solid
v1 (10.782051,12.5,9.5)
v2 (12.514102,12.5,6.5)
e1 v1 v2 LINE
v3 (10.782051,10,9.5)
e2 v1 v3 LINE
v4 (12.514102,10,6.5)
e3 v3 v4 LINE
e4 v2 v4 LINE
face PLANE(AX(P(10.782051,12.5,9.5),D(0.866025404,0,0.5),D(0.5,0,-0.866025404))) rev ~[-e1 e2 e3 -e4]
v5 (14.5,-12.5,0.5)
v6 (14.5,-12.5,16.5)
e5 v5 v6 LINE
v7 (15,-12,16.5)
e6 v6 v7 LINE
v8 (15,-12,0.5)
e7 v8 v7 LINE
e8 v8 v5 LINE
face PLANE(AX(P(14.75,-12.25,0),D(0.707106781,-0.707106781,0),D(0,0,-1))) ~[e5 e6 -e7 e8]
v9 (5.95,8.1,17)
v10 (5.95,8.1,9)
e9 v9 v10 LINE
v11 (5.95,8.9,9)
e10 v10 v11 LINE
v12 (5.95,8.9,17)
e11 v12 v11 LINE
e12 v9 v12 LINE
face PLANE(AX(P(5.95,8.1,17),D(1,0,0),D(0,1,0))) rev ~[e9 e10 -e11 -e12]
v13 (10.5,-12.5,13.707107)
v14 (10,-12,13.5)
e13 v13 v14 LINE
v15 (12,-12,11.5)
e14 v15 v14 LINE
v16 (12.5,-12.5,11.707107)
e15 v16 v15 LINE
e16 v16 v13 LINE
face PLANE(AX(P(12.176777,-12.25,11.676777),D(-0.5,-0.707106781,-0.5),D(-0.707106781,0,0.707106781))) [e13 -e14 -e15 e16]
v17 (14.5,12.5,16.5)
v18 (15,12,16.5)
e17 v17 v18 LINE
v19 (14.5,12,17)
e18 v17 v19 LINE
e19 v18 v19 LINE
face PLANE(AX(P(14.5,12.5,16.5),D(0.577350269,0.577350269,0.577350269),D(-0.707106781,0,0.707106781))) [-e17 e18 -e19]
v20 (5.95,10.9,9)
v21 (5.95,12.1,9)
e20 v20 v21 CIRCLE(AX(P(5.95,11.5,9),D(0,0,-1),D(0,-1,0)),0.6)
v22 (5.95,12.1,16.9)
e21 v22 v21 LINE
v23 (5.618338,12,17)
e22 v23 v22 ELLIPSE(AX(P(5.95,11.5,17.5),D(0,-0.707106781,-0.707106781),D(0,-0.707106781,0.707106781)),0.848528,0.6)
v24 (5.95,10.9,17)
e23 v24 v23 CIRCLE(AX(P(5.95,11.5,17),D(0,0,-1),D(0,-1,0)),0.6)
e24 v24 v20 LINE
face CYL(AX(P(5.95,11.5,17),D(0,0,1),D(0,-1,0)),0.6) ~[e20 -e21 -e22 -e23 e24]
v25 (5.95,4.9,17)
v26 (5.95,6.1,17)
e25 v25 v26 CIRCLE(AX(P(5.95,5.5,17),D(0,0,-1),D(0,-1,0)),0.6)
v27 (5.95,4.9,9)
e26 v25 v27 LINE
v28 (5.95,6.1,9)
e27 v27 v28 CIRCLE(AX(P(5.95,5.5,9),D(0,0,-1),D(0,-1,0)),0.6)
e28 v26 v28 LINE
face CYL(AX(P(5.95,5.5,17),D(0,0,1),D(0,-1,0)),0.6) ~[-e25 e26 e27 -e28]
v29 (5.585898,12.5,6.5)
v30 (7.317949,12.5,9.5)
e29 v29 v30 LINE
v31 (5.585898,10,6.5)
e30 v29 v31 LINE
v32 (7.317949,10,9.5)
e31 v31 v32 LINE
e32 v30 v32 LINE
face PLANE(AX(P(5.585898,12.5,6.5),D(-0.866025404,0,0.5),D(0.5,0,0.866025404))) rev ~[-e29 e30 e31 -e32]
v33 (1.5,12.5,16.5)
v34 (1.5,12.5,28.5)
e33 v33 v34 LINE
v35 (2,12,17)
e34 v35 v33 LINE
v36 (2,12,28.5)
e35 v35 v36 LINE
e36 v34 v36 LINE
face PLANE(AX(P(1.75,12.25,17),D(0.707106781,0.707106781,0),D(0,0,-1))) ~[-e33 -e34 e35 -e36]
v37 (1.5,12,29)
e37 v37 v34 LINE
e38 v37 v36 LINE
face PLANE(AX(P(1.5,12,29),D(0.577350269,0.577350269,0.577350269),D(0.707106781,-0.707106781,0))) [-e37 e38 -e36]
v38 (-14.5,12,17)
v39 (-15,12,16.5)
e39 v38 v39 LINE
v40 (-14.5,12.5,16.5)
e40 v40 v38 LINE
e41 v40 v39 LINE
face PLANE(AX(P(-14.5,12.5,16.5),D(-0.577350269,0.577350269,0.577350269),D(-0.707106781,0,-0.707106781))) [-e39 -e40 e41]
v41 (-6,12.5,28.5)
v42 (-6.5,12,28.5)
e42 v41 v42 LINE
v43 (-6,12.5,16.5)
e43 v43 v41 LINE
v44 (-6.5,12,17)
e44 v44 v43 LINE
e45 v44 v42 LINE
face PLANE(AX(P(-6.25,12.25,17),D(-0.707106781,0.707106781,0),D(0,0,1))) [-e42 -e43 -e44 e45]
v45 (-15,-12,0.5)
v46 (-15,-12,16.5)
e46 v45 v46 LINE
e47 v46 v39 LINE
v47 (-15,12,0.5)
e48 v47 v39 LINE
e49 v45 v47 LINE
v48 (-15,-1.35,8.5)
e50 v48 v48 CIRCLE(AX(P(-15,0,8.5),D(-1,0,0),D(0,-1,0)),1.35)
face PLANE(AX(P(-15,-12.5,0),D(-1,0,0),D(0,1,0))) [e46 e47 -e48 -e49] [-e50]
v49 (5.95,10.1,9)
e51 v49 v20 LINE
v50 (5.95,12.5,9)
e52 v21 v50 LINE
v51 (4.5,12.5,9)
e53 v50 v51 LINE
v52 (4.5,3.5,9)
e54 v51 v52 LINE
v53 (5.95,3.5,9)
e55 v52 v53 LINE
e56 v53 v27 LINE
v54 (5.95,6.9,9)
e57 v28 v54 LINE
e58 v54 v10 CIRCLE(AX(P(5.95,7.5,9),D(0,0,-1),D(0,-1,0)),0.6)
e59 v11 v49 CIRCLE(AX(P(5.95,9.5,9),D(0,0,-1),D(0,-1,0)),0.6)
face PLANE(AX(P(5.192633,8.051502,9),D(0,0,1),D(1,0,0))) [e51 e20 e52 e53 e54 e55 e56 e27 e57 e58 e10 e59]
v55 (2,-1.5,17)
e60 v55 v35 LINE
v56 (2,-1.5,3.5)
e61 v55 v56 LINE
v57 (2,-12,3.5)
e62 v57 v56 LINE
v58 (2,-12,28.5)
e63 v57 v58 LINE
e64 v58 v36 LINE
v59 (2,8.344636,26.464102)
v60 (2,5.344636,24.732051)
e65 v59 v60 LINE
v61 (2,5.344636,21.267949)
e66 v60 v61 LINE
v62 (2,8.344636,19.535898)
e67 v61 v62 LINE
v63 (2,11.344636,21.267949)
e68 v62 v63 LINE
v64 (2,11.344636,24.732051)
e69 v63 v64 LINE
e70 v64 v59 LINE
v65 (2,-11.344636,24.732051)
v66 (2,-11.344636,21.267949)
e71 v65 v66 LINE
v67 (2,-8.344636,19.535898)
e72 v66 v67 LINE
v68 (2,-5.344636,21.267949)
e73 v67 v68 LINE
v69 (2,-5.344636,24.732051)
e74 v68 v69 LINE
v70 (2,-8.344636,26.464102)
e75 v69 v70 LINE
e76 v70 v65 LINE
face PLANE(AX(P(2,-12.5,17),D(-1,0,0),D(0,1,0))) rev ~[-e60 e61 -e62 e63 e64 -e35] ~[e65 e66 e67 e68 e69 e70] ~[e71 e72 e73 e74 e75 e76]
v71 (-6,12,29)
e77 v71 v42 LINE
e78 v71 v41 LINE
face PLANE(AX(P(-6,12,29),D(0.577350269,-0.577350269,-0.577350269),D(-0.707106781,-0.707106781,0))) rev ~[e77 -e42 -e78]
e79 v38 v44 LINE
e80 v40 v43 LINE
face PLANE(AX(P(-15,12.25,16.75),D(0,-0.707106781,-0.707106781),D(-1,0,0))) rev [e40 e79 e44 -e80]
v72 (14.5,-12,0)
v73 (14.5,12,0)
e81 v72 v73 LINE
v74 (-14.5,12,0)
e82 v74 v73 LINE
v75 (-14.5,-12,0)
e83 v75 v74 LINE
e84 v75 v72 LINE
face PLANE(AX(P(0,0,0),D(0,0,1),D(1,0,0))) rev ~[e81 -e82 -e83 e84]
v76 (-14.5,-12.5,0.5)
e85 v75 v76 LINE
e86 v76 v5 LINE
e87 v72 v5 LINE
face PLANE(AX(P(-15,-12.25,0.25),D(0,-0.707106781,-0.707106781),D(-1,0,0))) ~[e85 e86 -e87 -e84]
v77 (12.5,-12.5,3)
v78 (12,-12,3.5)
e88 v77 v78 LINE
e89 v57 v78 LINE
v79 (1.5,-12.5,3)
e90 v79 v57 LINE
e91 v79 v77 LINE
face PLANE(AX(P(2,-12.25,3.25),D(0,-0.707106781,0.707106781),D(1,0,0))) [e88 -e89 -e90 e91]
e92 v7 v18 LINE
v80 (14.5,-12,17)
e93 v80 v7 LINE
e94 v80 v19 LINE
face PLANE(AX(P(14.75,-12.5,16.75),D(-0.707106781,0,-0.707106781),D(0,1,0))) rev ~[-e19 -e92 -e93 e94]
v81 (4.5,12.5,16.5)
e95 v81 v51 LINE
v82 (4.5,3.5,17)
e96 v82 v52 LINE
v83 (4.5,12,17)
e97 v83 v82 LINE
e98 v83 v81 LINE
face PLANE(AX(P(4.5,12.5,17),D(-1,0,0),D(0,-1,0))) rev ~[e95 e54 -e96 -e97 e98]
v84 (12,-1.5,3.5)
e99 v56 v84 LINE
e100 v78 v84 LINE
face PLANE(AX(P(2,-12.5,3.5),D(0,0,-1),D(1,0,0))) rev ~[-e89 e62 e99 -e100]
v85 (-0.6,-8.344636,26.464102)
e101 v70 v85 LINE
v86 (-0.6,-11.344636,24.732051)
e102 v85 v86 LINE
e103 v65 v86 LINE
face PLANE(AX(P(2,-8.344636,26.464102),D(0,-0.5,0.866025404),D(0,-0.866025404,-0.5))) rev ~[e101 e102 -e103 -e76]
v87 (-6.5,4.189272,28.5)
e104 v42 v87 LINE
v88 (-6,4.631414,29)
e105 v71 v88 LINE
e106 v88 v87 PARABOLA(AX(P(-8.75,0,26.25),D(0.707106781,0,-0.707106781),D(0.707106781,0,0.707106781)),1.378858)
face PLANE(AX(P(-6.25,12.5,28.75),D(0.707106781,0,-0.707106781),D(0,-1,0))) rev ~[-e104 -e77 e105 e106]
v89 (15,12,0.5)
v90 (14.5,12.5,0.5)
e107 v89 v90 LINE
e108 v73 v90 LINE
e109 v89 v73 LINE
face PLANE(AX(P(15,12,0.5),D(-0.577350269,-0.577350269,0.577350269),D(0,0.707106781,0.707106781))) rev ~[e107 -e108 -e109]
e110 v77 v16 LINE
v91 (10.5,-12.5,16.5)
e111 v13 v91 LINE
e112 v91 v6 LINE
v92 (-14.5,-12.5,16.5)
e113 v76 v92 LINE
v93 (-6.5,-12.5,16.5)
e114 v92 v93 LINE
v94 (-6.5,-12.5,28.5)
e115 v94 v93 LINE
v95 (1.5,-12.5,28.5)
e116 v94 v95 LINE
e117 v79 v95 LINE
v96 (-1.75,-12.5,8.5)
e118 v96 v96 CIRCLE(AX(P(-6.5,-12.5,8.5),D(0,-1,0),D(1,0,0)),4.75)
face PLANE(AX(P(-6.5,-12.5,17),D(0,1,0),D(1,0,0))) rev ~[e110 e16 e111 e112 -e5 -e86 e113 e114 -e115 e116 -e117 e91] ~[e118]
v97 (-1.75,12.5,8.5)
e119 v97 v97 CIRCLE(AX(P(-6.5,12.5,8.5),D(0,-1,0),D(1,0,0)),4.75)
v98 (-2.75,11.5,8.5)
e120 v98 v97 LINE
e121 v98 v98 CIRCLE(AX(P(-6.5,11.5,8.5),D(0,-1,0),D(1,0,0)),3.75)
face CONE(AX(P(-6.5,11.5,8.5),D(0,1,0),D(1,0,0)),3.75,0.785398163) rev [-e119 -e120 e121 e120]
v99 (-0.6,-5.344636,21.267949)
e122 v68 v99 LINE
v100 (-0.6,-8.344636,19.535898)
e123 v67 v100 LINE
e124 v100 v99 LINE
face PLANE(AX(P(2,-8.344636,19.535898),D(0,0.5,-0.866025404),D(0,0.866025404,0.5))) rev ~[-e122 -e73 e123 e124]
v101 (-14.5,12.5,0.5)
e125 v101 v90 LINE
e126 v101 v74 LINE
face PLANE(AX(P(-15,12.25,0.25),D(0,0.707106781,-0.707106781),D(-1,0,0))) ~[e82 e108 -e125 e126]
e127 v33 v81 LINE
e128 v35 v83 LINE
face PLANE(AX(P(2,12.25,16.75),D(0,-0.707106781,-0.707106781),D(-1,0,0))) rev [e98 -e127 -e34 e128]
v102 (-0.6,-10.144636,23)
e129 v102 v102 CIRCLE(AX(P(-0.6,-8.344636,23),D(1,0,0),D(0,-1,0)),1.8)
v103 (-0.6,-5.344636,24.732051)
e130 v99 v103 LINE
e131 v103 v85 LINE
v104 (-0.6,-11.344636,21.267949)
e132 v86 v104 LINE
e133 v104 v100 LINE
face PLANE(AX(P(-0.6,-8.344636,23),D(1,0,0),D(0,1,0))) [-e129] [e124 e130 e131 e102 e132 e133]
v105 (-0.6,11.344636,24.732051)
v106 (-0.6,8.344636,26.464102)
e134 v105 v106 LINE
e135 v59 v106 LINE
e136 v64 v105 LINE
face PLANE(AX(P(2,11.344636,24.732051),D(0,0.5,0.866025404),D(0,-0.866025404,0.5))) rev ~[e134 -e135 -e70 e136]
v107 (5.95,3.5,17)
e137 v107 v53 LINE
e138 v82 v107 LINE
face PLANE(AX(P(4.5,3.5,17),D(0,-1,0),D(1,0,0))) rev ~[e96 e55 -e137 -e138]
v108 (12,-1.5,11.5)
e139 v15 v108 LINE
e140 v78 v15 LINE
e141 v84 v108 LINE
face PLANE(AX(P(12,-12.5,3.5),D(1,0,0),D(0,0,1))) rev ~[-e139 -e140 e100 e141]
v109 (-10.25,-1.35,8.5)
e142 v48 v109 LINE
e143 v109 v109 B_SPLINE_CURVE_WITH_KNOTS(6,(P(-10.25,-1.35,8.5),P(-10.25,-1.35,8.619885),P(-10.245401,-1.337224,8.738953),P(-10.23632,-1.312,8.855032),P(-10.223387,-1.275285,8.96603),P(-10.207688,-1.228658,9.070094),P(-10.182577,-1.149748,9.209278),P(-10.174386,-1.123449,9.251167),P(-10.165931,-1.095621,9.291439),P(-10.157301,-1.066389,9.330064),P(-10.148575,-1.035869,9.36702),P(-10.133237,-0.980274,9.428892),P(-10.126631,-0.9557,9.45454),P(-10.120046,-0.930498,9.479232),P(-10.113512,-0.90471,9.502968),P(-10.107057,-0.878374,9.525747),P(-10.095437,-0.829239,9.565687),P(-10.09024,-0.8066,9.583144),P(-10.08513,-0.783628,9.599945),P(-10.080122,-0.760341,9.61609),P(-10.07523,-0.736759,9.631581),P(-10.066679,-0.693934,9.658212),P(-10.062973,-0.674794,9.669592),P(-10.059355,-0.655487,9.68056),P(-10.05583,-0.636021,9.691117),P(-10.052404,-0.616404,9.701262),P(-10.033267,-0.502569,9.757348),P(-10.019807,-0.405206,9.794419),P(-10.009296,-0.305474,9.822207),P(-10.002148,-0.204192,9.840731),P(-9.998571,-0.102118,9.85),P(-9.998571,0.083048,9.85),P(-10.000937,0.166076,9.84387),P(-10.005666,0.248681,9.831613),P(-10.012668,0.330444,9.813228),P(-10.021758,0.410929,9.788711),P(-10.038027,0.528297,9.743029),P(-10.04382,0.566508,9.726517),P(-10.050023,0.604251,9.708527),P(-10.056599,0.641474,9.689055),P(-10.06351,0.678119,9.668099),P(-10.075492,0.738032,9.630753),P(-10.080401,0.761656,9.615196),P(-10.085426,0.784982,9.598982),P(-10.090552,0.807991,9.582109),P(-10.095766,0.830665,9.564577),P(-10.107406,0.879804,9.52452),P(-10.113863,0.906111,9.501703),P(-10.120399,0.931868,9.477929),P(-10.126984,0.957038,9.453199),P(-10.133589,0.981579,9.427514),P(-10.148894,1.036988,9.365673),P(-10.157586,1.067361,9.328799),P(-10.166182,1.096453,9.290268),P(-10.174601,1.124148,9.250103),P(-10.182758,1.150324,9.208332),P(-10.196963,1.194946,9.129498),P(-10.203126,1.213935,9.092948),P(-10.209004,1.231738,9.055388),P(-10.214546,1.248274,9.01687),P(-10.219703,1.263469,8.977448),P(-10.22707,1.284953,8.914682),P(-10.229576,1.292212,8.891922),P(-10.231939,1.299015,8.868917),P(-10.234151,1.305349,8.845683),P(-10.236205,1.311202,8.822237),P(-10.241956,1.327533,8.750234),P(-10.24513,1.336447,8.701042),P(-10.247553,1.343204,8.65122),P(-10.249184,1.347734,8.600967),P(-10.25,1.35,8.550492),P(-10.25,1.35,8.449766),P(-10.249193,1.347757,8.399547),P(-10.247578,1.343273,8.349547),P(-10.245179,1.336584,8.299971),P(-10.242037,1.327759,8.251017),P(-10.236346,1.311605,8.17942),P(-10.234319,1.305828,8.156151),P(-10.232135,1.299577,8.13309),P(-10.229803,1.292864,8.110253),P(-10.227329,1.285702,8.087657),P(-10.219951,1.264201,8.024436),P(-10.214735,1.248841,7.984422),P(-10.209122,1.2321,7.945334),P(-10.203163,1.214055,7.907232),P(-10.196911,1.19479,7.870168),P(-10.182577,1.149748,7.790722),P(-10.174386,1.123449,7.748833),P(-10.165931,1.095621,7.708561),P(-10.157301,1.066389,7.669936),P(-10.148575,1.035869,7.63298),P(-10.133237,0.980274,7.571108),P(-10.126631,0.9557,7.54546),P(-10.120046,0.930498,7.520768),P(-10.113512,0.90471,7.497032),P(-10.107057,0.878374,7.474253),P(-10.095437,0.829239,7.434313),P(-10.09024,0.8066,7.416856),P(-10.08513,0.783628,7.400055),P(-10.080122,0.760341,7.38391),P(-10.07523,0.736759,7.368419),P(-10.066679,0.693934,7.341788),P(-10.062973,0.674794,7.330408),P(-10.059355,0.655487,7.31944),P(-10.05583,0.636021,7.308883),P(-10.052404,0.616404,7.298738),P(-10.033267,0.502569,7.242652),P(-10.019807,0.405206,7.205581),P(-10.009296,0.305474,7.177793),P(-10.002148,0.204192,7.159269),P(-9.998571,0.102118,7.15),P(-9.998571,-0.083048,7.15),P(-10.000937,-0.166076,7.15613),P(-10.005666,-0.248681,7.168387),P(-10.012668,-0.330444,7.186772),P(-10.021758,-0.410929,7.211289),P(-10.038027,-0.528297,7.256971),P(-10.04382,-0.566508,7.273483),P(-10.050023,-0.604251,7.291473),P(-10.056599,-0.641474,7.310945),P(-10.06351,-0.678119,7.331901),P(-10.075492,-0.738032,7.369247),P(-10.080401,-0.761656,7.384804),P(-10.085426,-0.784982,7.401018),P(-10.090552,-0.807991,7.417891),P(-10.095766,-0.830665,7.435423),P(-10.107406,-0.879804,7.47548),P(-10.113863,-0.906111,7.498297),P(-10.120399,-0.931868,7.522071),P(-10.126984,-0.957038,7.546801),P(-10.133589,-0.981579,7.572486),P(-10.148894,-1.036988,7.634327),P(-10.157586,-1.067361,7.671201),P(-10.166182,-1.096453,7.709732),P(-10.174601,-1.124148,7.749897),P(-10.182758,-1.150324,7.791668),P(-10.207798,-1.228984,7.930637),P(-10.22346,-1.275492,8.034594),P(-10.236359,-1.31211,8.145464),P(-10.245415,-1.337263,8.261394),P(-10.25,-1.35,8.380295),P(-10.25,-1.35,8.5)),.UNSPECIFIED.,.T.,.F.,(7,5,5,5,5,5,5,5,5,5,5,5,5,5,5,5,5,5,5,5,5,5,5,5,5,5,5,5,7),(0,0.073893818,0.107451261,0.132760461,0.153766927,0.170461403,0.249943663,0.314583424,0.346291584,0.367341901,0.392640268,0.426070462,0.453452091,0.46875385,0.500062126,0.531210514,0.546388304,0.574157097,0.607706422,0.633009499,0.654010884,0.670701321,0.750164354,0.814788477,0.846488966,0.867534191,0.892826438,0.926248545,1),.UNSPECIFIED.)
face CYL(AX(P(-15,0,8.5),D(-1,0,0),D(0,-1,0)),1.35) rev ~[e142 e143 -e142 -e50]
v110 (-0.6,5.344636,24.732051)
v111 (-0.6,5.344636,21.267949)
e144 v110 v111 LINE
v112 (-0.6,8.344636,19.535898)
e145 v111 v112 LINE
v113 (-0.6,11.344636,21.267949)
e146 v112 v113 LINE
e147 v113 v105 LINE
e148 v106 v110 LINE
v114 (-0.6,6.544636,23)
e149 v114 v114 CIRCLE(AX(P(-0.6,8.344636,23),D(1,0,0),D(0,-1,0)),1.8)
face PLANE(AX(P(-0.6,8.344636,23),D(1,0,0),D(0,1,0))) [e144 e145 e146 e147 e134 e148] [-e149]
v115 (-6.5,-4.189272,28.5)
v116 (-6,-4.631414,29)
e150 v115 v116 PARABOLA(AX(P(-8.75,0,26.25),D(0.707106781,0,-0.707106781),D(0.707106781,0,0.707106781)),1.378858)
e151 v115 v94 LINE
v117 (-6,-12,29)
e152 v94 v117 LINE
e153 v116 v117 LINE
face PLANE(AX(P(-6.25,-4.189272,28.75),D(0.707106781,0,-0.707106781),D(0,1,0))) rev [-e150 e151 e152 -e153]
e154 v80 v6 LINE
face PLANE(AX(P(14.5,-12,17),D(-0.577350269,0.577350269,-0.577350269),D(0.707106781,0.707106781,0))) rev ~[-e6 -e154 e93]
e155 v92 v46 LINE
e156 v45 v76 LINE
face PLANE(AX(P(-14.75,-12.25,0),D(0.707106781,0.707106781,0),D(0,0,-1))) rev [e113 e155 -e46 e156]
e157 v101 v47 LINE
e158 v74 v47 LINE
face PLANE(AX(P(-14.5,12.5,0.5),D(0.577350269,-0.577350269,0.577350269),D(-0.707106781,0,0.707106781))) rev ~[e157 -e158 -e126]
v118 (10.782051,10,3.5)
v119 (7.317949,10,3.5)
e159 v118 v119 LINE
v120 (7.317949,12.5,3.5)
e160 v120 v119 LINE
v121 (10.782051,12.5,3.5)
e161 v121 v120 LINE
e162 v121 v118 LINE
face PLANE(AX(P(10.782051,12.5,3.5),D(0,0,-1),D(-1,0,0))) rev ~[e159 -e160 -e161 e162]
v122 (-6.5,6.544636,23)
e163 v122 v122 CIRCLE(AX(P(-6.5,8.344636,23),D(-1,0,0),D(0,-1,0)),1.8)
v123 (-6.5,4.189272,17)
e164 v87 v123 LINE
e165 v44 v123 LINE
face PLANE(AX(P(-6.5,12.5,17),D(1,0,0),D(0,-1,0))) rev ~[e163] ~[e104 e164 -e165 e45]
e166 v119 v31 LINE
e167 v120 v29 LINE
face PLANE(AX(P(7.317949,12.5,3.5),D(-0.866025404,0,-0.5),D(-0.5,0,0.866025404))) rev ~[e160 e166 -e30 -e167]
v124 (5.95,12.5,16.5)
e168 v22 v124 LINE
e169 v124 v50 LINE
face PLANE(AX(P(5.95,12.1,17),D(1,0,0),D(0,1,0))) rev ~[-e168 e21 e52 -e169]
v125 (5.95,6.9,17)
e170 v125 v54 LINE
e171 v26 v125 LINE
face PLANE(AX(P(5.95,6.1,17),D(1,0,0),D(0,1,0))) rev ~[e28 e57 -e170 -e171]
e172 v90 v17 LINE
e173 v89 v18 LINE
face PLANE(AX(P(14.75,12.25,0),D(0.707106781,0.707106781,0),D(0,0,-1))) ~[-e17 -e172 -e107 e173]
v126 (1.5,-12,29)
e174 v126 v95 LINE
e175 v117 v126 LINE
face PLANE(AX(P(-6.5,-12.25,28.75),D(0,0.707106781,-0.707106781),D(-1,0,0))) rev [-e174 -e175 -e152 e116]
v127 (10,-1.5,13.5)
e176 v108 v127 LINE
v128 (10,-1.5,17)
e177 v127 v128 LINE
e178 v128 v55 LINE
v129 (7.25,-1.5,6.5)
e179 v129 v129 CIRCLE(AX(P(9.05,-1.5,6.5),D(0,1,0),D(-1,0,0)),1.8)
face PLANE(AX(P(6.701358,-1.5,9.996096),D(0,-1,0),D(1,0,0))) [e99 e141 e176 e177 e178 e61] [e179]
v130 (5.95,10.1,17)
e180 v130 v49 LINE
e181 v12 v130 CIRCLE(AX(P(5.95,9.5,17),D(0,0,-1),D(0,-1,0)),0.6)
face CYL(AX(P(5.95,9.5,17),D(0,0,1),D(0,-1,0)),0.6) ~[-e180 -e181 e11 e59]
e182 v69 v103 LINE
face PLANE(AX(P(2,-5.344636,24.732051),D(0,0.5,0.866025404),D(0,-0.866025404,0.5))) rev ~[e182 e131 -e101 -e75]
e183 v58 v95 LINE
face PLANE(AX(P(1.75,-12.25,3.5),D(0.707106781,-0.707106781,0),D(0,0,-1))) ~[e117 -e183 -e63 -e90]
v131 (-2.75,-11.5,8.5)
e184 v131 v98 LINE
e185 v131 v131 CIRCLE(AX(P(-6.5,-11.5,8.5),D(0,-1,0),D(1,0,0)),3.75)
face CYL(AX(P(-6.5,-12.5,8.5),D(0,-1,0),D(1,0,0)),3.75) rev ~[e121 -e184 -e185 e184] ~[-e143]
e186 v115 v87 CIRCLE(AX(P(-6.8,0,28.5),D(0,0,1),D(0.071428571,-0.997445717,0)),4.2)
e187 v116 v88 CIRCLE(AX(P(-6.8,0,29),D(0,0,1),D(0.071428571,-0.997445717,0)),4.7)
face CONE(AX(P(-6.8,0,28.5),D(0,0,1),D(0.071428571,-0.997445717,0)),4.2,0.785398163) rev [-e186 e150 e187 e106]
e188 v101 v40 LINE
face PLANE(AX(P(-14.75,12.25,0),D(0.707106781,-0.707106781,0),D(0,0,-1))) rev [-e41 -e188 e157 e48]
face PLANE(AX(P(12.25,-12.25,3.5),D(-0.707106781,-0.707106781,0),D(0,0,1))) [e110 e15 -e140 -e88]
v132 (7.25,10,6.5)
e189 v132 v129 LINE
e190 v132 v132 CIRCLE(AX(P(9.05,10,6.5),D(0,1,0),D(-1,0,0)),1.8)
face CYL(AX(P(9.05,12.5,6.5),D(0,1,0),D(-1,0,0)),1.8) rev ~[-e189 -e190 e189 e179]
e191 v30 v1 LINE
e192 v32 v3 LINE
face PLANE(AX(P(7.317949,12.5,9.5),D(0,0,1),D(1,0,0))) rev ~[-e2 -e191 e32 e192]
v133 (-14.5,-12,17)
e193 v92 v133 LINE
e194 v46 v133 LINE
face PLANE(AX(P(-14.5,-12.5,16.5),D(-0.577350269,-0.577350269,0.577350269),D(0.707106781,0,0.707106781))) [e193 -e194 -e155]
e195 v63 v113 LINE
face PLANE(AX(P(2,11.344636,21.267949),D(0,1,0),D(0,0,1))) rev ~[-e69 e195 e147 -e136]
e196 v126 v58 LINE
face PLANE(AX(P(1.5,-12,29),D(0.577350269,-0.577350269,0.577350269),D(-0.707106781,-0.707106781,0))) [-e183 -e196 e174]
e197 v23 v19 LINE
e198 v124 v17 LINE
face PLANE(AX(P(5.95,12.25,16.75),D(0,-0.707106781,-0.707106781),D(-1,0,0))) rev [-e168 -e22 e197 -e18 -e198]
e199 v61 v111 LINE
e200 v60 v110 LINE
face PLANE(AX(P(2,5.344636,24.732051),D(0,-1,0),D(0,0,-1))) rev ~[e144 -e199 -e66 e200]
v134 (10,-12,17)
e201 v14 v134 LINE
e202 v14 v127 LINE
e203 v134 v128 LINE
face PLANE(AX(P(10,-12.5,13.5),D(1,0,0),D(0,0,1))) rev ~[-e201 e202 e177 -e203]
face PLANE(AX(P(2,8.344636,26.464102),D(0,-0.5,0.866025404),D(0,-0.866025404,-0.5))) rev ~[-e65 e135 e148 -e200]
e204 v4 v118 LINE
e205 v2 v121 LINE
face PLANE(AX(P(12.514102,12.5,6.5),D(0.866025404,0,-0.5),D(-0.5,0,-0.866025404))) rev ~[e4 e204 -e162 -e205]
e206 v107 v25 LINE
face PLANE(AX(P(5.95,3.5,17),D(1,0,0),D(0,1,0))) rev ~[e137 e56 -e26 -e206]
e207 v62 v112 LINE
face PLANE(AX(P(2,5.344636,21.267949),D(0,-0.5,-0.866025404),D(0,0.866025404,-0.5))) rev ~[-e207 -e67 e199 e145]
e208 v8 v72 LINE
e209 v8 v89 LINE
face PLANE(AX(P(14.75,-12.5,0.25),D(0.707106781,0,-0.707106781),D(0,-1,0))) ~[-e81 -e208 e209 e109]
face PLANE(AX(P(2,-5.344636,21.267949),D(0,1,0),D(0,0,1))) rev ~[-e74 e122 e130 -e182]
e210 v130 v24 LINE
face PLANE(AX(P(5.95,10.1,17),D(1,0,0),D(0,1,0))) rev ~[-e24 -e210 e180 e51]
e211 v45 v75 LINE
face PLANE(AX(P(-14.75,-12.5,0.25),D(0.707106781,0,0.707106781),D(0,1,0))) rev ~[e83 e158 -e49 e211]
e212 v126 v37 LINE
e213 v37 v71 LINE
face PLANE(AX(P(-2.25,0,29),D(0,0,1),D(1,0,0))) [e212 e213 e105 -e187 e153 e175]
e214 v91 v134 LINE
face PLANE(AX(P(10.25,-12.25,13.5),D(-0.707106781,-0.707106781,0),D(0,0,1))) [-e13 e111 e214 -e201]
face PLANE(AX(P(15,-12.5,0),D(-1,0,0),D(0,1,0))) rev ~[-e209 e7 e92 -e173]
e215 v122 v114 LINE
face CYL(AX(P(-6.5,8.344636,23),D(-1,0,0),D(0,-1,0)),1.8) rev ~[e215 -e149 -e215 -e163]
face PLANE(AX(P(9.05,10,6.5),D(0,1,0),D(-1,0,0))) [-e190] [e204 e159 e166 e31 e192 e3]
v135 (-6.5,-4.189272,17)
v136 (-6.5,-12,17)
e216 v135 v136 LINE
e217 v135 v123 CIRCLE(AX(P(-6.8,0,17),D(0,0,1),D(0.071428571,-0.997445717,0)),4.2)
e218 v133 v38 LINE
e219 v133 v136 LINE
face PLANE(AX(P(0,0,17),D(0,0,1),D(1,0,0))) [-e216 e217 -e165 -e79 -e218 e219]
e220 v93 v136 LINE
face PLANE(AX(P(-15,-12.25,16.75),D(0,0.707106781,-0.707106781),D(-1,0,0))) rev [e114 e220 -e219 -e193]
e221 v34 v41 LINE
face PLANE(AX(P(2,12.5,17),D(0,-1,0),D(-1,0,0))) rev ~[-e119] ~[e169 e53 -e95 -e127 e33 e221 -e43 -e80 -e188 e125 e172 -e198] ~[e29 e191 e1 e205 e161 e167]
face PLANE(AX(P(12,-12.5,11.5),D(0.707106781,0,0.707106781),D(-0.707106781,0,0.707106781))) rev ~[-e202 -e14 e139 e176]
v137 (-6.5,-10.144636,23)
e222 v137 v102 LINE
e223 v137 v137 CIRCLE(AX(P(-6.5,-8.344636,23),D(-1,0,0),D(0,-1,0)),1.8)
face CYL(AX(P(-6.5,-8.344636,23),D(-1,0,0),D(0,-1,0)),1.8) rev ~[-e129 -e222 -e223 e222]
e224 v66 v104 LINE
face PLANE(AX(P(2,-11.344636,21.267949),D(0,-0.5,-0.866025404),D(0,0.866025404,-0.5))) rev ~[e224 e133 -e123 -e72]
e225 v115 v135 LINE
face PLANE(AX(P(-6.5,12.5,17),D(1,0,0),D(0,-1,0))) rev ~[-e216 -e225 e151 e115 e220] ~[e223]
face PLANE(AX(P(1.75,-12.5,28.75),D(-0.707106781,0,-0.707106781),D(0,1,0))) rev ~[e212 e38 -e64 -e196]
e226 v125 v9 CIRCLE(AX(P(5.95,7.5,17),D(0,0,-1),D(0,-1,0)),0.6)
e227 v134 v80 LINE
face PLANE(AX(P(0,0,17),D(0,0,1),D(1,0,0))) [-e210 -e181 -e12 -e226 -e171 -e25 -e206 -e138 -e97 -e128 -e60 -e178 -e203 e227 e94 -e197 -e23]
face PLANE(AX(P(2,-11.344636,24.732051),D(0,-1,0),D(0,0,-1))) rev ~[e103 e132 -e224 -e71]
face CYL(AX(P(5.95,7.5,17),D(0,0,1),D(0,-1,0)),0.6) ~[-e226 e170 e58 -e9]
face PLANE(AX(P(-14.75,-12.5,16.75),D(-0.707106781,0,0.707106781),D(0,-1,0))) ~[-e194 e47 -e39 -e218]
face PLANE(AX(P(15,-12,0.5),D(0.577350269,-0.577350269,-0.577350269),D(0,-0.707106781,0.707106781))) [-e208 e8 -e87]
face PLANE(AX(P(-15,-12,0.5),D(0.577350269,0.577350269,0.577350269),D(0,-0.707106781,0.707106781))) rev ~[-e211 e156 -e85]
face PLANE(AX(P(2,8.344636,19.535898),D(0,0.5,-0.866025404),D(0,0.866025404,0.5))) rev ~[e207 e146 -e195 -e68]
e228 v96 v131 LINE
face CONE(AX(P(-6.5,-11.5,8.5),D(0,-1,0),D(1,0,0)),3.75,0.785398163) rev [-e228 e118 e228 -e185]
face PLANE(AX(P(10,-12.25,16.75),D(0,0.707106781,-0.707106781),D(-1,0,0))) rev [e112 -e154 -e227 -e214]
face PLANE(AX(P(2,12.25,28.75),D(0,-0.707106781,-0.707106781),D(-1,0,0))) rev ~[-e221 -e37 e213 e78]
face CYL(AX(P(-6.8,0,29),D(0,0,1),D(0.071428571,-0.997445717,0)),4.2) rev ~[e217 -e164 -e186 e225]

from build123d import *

# Parameters (mm, degrees)
F0_W      = 30
F0_H      = 25
F1_DEPTH  = 17
F3_DEPTH  = 11
F4_R      = 3.75
F5_DEPTH  = 25
F7_DEPTH  = 12
F9_DEPTH  = 12
F10_R     = 1.8
F11_DEPTH = 8.5
F12_R     = 1.8
F13_DEPTH = 2.6
F15_DEPTH = 8
F16_R     = 1.8
F17_DEPTH = 14
F18_R     = 1.8
F19_DEPTH = 2.5
F21_SIZE  = 0.5
F22_SIZE2 = 1
F22_SIZE  = 1
F23_R     = 1.35
F24_DEPTH = 5.0024289631


with BuildPart() as f1:
    # F0 (on Top) → F1 (new body)
    with BuildSketch(Plane.XY):
        Rectangle(F0_W, F0_H)
    extrude(amount=F1_DEPTH)

    # F2 (on face) → F3 (cut)
    with BuildSketch(Plane.XZ.offset(12.5)):
        Polygon((10, 17), (2, 17), (2, 3.5), (12, 3.5), (12, 11.5), (10, 13.5), align=None)
    extrude(amount=-F3_DEPTH, mode=Mode.SUBTRACT)

    # F4 (on face) → F5 (cut, through all)
    with BuildSketch(Plane.XZ.offset(12.5)):
        with Locations((-6.5, 8.5)):
            Circle(F4_R)
    extrude(amount=-F5_DEPTH, mode=Mode.SUBTRACT)

    # F6 (on face) → F7 (join)
    with BuildSketch(Plane.XY.offset(17)):
        Polygon((-6.5, -12.5), (2, -12.5), (2, -1.5), (2, 12.5), (-6.5, 12.5), align=None)
    extrude(amount=F7_DEPTH)

    # F8 (on face) → F9 (cut)
    with BuildSketch(Plane.XY.offset(29)):
        with BuildLine():
            Line((-6.5, 4.1892720131), (-6.5, -4.1892720131))
            ThreePointArc((-6.5, -4.1892720131), (-2.6, 0), (-6.5, 4.1892720131))
        make_face()
    extrude(amount=-F9_DEPTH, mode=Mode.SUBTRACT)

    # F10 (on face) → F11 (cut, through all)
    with BuildSketch(Plane(origin=(-6.5, 0, 0), x_dir=(0, -1, 0), z_dir=(-1, 0, 0))):
        with Locations((-8.3446360066, 23)):
            Circle(F10_R)
        with Locations((8.3446360066, 23)):
            Circle(F10_R)
    extrude(amount=-F11_DEPTH, mode=Mode.SUBTRACT)

    # F12 (on face) → F13 (cut)
    with BuildSketch(Plane.YZ.offset(2)):
        Polygon((11.3446360067, 21.2679491924), (11.3446360067, 24.7320508076), (8.3446360067, 26.4641016151), (5.3446360067, 24.7320508076), (5.3446360067, 21.2679491924), (8.3446360067, 19.5358983849), align=None)
        with Locations((8.3446360066, 23)):
            Circle(F12_R, mode=Mode.SUBTRACT)
        Polygon((-5.3446360065, 21.2679491924), (-5.3446360065, 24.7320508076), (-8.3446360065, 26.4641016151), (-11.3446360065, 24.7320508076), (-11.3446360065, 21.2679491924), (-8.3446360065, 19.5358983849), align=None)
        with Locations((-8.3446360066, 23)):
            Circle(F12_R, mode=Mode.SUBTRACT)
    extrude(amount=-F13_DEPTH, mode=Mode.SUBTRACT)

    # F14 (on face) → F15 (cut)
    with BuildSketch(Plane.XY.offset(17)):
        with BuildLine():
            Line((5.95, 12.5), (4.5, 12.5))
            Line((4.5, 12.5), (4.5, 3.5))
            Line((4.5, 3.5), (5.95, 3.5))
            Line((5.95, 3.5), (5.95, 4.9))
            ThreePointArc((5.95, 4.9), (5.35, 5.5), (5.95, 6.1))
            Line((5.95, 6.1), (5.95, 6.9))
            ThreePointArc((5.95, 6.9), (5.35, 7.5), (5.95, 8.1))
            Line((5.95, 8.1), (5.95, 8.9))
            ThreePointArc((5.95, 8.9), (5.35, 9.5), (5.95, 10.1))
            Line((5.95, 10.1), (5.95, 10.9))
            ThreePointArc((5.95, 10.9), (5.35, 11.5), (5.95, 12.1))
            Line((5.95, 12.1), (5.95, 12.5))
        make_face()
    extrude(amount=-F15_DEPTH, mode=Mode.SUBTRACT)

    # F16 (on face) → F17 (cut, through all)
    with BuildSketch(Plane(origin=(0, 12.5, 0), x_dir=(-1, 0, 0), z_dir=(0, 1, 0))):
        with Locations((-9.05, 6.5)):
            Circle(F16_R)
    extrude(amount=-F17_DEPTH, mode=Mode.SUBTRACT)

    # F18 (on face) → F19 (cut)
    with BuildSketch(Plane(origin=(0, 12.5, 0), x_dir=(-1, 0, 0), z_dir=(0, 1, 0))):
        Polygon((-7.3179491924, 9.5), (-10.7820508076, 9.5), (-12.5141016151, 6.5), (-10.7820508076, 3.5), (-7.3179491924, 3.5), (-5.5858983849, 6.5), align=None)
        with Locations((-9.05, 6.5)):
            Circle(F18_R, mode=Mode.SUBTRACT)
    extrude(amount=-F19_DEPTH, mode=Mode.SUBTRACT)

    # F21
    f21_edges = [f1.edges().sort_by_distance(p)[0] for p in [
        (0, -12.5, 0),
        (-15, 0, 0),
        (0, 12.5, 0),
        (15, 0, 0),
        (-15, 0, 17),
        (-10.75, 12.5, 17),
        (-15, 12.5, 8.5),
        (-15, -12.5, 8.5),
        (2, -12.5, 16.25),
        (7, -12.5, 3.5),
        (12, -12.5, 7.5),
        (11, -12.5, 12.5),
        (10, -12.5, 15.25),
        (15, -12.5, 8.5),
        (12.5, -12.5, 17),
        (15, 0, 17),
        (15, 12.5, 8.5),
        (10.475, 12.5, 17),
        (3.25, 12.5, 17),
        (2, 12.5, 23),
        (-6.5, 12.5, 23),
        (-2.25, 12.5, 29),
        (2, 0, 29),
        (-2.25, -12.5, 29),
        (-10.75, -12.5, 17),
        (-6.5, -8.344636, 29),
        (-2.6, 0, 29),
        (-6.5, 8.344636, 29),
    ]]
    chamfer(f21_edges, length=F21_SIZE)

    # F22
    f22_edges = [f1.edges().sort_by_distance(p)[0] for p in [
        (-2.75, 0, 8.5),
        (-10.25, -12.5, 8.5),
        (-10.25, 12.5, 8.5),
    ]]
    chamfer(f22_edges, length=F22_SIZE, length2=F22_SIZE2)

    # F23 (on face) → F24 (cut, through all)
    with BuildSketch(Plane(origin=(-15, 0, 0), x_dir=(0, -1, 0), z_dir=(-1, 0, 0))):
        with Locations((0, 8.5)):
            Circle(F23_R)
    extrude(amount=-F24_DEPTH, mode=Mode.SUBTRACT)


solid = f1.part
